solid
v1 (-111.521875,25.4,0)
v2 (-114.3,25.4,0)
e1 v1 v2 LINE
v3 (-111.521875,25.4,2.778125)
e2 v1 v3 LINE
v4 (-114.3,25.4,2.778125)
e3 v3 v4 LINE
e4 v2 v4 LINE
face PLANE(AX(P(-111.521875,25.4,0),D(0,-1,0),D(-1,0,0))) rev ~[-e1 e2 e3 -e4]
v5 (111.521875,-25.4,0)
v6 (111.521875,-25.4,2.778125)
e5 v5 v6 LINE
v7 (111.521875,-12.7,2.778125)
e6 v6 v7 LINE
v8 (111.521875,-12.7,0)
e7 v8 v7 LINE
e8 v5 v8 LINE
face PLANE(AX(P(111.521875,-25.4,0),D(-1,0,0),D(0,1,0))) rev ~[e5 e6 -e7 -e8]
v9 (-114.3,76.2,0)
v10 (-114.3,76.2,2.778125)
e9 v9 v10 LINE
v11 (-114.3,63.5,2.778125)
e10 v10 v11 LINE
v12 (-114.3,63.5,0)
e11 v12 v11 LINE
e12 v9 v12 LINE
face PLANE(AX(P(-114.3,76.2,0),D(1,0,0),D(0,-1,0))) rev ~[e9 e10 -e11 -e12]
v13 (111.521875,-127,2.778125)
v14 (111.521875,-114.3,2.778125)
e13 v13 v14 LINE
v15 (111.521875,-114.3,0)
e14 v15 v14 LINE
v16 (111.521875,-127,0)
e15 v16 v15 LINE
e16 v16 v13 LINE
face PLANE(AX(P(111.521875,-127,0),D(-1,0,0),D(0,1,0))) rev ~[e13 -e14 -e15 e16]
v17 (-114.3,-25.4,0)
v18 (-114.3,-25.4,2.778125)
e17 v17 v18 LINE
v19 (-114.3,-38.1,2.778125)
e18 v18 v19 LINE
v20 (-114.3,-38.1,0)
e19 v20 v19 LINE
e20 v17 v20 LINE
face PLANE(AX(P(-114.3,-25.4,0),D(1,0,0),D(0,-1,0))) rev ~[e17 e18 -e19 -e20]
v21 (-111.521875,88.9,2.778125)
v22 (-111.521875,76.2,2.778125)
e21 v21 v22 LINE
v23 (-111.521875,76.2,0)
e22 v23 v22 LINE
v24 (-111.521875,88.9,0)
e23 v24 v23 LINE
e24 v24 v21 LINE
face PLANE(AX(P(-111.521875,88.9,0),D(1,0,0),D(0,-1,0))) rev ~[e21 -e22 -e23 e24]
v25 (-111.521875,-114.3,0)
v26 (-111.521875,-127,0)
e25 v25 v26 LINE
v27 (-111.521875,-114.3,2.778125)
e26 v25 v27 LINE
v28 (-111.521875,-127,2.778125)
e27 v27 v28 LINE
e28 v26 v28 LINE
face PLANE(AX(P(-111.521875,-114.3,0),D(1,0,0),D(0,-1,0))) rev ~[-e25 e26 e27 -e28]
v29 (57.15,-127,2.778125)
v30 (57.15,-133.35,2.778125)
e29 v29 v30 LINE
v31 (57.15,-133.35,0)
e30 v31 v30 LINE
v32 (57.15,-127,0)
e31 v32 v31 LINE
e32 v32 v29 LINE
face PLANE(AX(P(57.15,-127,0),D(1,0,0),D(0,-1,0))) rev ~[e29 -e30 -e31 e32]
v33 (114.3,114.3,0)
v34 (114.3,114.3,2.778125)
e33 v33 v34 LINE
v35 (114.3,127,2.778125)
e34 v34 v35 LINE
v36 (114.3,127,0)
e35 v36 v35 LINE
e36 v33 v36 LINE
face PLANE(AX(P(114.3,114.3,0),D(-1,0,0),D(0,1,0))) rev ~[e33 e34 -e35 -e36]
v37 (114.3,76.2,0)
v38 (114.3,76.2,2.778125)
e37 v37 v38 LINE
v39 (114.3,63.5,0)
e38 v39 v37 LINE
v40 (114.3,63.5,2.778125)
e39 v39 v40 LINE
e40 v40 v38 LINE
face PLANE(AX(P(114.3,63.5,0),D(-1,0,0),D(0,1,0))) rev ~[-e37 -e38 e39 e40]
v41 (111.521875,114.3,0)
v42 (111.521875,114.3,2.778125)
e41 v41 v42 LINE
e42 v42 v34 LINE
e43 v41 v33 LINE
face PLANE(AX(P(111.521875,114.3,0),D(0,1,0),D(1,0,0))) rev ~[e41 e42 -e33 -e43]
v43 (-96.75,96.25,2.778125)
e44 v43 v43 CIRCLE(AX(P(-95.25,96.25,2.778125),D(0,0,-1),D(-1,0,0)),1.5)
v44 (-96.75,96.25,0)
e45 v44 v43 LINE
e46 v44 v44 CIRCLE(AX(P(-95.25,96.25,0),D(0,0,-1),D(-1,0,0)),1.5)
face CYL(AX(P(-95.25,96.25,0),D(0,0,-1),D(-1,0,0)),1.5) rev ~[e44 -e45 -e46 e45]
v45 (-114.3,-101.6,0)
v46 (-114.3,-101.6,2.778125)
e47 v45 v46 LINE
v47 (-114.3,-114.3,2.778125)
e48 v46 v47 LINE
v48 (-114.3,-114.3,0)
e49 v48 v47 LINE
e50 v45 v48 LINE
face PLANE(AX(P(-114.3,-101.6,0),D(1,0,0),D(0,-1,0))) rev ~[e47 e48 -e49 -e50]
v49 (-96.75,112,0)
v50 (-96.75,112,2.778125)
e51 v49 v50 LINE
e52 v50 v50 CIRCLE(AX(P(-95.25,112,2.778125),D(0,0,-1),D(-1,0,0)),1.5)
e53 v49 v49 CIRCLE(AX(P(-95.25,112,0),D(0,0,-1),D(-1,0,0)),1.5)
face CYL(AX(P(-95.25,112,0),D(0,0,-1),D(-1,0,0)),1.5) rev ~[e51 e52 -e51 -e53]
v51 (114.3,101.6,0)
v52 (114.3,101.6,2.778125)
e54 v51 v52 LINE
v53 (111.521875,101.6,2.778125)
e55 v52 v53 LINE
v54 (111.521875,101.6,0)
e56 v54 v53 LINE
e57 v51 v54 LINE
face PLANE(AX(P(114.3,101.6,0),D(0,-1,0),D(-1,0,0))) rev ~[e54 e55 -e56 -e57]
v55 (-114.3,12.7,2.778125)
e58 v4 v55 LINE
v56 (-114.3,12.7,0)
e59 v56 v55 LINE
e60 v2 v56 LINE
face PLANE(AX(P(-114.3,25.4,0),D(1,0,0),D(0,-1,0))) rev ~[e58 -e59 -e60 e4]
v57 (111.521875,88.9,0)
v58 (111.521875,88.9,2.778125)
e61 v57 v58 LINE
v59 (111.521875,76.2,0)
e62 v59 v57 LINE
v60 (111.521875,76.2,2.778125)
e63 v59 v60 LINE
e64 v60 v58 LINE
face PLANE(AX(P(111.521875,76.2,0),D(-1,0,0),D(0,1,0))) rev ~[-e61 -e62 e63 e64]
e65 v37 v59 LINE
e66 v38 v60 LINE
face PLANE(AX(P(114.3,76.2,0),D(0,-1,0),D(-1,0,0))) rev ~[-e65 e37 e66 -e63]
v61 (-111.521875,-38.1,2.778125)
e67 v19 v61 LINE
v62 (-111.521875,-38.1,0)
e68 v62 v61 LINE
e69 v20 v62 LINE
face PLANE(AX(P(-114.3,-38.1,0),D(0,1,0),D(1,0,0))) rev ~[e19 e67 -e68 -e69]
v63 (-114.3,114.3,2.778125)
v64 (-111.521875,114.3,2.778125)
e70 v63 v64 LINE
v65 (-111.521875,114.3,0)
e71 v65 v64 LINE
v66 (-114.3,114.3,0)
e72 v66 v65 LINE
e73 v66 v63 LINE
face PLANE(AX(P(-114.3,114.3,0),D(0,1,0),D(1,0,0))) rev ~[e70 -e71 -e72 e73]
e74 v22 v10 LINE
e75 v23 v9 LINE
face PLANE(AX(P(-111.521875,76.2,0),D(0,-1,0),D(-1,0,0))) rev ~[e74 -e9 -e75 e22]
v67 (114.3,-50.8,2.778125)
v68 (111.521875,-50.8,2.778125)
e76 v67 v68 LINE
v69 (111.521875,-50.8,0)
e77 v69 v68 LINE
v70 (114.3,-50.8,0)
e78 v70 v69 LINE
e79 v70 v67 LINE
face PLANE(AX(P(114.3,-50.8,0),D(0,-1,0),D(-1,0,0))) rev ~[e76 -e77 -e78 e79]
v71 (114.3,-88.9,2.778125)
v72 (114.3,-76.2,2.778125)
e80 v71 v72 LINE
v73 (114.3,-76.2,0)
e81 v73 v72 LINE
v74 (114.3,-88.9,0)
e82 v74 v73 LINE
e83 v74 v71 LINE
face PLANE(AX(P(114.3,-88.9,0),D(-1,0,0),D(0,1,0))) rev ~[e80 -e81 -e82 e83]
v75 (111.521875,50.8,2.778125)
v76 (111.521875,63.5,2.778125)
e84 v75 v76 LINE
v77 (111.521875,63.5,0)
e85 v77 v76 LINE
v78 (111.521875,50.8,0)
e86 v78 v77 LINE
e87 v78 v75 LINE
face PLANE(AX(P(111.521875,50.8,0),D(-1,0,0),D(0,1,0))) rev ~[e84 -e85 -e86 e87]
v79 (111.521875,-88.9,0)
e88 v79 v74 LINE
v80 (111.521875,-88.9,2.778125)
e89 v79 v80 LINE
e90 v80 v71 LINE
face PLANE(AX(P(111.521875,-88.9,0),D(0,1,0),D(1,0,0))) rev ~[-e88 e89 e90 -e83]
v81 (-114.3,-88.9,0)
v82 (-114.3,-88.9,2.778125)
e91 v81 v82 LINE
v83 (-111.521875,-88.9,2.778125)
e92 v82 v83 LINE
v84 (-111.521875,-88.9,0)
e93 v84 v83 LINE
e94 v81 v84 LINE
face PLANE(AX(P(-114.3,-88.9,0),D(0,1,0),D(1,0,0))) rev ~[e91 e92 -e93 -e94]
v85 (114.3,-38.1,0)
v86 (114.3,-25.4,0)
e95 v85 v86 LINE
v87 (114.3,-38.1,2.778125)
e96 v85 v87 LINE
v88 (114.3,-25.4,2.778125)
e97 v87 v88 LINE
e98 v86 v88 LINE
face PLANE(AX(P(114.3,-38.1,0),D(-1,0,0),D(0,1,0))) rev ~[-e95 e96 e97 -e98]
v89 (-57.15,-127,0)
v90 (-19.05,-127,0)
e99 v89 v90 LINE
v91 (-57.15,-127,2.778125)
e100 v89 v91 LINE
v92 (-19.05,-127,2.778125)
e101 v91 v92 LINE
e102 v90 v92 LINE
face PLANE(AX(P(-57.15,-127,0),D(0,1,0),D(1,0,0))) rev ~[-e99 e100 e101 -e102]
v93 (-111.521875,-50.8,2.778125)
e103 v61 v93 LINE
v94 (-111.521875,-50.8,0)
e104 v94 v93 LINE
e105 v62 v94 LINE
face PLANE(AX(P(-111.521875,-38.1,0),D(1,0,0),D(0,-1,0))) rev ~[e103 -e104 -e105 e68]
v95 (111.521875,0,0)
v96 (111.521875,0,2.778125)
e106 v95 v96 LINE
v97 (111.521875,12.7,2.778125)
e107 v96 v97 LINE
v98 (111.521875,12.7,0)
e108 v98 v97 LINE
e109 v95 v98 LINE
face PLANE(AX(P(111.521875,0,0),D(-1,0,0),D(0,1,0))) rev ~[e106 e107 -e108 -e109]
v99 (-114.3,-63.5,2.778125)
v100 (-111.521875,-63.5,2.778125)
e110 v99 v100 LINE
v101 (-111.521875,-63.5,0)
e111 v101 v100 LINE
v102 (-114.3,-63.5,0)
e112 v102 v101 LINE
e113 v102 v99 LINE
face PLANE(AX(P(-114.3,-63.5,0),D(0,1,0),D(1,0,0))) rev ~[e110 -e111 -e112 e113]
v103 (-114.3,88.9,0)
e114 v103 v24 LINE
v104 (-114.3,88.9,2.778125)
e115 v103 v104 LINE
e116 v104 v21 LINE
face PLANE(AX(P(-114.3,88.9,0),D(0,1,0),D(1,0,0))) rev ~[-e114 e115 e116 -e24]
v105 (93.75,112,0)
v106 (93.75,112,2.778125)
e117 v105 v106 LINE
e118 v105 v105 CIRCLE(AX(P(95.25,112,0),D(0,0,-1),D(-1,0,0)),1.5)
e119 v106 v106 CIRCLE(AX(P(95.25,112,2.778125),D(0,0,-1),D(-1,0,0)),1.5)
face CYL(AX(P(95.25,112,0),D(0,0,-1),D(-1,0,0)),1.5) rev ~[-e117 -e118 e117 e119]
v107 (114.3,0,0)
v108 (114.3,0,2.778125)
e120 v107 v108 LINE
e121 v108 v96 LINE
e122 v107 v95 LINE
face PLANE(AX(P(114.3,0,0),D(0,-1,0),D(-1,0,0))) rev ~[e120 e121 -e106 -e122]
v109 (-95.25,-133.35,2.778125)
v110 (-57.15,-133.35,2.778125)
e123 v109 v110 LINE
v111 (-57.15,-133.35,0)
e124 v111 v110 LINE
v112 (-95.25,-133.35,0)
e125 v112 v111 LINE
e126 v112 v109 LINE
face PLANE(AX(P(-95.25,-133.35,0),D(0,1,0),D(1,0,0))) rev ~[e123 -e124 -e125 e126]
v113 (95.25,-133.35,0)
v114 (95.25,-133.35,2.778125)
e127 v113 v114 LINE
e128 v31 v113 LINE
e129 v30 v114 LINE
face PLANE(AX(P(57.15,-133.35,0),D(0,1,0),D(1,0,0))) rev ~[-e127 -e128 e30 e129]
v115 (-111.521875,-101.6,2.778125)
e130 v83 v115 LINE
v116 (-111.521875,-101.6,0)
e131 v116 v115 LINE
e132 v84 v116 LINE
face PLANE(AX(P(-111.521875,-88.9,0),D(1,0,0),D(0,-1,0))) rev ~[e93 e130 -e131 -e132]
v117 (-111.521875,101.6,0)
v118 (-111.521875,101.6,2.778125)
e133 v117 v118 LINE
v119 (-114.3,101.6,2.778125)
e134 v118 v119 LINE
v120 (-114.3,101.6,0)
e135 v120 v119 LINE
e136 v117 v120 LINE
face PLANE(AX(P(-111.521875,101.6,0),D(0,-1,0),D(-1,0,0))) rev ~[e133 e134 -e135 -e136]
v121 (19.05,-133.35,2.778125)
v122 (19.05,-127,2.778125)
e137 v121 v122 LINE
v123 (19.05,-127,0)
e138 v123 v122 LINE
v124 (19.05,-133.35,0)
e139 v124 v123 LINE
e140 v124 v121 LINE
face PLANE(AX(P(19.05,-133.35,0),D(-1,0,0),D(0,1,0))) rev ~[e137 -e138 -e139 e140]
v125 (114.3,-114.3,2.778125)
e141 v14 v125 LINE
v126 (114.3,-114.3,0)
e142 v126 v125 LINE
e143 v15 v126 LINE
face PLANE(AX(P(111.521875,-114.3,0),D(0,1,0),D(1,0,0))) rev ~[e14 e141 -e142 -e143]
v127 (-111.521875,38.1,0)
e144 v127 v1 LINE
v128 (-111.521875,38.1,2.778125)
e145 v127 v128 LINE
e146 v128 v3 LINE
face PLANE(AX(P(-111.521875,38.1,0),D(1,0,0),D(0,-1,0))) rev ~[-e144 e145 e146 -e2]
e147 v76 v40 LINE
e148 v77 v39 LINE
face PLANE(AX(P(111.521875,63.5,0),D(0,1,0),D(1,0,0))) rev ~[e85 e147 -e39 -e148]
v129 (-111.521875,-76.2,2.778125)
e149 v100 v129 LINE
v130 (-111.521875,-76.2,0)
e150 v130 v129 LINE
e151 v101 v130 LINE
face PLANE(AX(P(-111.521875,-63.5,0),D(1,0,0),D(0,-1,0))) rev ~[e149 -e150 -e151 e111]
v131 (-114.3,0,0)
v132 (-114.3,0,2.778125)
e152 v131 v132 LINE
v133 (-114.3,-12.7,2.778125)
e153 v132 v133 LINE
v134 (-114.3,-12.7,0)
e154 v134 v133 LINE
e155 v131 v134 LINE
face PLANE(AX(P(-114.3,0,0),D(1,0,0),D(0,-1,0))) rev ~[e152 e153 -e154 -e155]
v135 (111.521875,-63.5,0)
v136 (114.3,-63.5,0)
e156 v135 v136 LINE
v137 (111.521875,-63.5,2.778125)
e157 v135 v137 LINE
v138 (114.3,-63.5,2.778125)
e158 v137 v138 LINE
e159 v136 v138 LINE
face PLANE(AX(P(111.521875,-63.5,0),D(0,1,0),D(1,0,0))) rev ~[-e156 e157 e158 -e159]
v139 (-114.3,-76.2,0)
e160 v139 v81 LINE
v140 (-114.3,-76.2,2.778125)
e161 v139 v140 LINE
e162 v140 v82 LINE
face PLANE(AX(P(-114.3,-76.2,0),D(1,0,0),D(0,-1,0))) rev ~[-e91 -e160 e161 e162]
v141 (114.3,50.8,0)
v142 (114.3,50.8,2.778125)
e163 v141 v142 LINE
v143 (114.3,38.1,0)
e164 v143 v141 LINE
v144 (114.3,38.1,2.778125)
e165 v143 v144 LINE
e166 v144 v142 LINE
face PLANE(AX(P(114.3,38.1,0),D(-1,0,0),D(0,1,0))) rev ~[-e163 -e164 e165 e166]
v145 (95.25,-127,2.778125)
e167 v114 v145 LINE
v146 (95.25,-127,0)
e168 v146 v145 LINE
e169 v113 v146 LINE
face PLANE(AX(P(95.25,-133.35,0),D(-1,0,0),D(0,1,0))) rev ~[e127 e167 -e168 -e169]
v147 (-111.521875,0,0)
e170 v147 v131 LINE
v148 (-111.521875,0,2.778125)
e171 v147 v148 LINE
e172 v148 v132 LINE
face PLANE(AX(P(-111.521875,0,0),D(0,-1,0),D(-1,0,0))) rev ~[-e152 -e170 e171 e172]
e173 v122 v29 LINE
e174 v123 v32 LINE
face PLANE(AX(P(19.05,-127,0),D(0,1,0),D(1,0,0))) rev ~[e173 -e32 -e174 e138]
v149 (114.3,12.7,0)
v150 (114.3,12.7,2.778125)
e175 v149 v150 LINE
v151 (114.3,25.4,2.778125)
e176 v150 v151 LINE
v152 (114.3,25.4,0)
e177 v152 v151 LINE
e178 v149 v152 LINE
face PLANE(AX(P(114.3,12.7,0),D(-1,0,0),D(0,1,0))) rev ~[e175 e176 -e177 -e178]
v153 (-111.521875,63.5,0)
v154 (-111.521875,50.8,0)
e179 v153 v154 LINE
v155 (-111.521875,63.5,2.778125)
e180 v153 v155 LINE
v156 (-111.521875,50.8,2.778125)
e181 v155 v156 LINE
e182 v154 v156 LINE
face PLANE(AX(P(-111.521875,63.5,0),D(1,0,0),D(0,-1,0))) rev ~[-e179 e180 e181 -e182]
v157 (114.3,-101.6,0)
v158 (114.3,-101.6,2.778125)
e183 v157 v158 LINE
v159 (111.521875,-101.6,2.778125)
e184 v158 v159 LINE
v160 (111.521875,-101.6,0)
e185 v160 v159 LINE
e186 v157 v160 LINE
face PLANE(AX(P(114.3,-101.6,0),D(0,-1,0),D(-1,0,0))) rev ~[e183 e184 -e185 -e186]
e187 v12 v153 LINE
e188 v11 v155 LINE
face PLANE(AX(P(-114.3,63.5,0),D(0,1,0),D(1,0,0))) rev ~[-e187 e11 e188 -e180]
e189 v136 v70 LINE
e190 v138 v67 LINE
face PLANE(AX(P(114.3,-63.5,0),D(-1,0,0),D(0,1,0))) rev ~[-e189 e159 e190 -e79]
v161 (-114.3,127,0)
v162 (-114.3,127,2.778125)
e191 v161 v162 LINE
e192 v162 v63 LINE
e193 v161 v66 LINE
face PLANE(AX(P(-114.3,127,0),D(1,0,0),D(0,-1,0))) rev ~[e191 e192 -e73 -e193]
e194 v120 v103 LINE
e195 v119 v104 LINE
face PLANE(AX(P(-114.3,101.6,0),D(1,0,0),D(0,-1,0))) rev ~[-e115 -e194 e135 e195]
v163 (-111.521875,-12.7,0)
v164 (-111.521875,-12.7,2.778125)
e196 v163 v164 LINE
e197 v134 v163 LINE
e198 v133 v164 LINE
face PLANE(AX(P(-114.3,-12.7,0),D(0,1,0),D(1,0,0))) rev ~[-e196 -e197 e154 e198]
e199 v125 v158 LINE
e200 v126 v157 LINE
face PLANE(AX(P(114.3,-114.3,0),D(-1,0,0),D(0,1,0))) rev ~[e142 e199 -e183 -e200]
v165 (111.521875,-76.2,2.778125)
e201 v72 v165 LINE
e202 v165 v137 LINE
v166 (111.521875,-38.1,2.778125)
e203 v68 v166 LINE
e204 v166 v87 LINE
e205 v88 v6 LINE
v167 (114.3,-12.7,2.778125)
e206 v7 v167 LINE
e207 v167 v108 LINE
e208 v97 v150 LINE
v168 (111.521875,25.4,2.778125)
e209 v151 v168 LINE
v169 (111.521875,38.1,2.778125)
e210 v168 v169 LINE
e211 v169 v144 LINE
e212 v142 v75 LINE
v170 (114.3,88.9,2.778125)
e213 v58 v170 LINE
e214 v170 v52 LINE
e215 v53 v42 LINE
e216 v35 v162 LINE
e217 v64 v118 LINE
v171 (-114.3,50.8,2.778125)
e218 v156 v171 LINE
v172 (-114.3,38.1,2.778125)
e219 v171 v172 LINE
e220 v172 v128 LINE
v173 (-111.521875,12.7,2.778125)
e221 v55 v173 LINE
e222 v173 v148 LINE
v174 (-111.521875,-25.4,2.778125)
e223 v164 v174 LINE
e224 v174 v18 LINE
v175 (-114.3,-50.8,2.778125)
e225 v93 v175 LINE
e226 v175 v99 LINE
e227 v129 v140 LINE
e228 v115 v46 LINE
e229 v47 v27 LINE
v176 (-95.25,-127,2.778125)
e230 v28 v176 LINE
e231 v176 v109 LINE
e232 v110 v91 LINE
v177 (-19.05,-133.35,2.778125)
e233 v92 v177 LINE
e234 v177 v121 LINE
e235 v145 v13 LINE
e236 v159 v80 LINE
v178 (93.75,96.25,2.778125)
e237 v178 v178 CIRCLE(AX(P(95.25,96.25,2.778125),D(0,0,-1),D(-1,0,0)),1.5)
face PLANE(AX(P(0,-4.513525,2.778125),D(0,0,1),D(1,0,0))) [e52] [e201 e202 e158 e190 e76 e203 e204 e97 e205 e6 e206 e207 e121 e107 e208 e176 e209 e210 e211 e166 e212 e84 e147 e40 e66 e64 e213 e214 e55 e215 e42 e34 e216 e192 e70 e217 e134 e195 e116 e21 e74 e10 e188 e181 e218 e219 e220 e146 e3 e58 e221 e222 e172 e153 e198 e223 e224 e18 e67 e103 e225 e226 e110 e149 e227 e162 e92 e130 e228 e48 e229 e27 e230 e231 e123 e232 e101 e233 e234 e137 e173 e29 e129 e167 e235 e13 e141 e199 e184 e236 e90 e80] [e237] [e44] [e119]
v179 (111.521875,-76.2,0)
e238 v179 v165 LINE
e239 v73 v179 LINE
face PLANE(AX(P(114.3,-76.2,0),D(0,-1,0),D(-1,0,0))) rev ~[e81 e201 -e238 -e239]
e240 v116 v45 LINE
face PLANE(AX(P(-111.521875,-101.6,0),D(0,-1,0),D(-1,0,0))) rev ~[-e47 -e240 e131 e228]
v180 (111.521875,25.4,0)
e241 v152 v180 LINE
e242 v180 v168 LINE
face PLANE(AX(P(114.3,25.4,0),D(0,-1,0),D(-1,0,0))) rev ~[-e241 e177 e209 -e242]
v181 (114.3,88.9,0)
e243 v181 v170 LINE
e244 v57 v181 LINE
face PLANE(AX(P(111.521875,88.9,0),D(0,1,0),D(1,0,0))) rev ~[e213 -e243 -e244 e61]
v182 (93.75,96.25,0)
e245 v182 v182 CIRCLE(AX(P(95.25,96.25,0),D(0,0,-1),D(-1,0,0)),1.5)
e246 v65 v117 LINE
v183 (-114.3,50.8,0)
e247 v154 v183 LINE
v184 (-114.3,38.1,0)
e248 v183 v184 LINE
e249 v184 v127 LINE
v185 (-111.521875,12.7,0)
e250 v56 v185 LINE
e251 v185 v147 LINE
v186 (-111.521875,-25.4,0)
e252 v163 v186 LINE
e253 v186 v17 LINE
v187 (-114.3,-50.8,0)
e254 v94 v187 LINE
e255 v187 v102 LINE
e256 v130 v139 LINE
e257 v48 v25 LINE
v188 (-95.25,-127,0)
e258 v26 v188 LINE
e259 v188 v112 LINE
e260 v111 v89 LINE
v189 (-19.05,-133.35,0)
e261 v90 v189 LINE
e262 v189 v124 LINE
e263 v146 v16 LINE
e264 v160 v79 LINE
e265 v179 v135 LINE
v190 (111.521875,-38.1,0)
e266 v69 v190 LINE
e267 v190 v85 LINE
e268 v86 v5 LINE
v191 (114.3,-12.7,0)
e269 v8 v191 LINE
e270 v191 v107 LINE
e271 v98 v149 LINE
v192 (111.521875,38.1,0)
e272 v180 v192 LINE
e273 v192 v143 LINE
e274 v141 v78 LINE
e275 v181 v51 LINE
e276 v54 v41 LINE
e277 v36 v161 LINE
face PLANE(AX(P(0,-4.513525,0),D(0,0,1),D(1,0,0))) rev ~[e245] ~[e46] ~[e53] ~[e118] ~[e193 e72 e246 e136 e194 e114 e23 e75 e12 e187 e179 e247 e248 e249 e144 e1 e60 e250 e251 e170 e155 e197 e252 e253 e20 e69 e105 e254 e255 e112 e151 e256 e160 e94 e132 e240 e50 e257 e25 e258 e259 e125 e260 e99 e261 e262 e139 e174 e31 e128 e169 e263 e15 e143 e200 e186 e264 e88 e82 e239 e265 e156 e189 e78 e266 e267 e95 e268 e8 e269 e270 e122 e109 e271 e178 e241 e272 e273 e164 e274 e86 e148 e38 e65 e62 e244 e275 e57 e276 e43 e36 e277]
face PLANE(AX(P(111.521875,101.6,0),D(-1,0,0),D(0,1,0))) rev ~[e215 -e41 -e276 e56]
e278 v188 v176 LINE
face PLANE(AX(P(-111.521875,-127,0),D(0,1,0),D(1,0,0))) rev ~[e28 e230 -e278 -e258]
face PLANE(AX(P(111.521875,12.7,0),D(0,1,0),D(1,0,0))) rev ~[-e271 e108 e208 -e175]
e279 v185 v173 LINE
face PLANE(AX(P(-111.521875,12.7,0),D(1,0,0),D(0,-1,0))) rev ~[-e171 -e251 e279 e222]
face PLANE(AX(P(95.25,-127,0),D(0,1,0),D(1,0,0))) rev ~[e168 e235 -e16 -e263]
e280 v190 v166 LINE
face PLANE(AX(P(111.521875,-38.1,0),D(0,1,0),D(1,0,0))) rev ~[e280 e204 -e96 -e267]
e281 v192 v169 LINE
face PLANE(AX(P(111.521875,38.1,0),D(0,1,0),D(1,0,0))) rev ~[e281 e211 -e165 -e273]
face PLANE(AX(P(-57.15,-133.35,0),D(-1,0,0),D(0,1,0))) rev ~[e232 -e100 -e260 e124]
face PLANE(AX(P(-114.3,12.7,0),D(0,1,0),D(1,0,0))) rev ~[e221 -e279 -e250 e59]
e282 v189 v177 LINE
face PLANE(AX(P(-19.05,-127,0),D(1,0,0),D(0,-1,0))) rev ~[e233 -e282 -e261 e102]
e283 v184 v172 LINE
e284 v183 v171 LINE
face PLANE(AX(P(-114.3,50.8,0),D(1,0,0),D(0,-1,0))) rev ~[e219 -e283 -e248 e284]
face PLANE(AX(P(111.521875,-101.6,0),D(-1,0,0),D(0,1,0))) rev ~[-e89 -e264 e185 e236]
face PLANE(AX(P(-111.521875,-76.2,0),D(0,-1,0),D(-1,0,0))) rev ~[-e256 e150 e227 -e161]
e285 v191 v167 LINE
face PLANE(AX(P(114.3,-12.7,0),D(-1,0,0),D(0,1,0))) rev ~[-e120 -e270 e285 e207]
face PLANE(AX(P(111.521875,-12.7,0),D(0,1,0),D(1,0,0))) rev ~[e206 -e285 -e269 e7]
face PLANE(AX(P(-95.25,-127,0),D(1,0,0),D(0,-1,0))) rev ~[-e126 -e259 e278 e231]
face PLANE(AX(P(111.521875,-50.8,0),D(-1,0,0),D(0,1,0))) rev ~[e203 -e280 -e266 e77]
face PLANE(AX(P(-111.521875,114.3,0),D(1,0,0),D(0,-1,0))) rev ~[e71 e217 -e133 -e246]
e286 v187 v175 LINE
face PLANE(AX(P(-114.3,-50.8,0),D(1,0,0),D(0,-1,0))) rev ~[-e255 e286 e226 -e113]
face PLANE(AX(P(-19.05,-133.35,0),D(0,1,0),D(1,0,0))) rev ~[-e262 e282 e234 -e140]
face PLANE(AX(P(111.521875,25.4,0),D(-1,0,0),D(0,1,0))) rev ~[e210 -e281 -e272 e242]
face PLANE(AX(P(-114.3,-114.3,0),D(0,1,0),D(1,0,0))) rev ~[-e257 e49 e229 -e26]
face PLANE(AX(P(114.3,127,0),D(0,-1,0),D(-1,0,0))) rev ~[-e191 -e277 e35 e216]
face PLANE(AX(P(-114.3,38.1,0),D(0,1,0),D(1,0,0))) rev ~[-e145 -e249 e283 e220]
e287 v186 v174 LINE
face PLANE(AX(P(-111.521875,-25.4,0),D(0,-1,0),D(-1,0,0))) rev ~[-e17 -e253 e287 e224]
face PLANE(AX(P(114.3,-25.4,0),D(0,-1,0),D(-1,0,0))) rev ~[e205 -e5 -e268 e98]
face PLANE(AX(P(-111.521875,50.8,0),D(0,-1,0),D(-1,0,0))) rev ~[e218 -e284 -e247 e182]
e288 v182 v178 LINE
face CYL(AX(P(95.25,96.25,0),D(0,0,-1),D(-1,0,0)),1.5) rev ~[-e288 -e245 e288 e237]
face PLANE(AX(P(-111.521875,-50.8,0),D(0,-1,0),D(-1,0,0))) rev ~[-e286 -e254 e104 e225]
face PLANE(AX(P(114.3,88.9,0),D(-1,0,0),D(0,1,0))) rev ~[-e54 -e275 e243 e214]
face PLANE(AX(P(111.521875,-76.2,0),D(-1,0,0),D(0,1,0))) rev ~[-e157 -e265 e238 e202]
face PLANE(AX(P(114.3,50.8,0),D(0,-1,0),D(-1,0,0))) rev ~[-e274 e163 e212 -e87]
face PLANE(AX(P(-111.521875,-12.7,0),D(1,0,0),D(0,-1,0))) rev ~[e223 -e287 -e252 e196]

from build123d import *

# Parameters (mm, degrees)
BOSS_EXTRUDE1_DEPTH = 2.778125
SKETCH2_R           = 1.5
CUT_EXTRUDE1_DEPTH  = 2.778125


with BuildPart() as part:
    # Sketch1 → Boss-Extrude1 (new body)
    with BuildSketch(Plane.XY):
        Polygon((-114.3, 127), (-114.3, 114.3), (-111.521875, 114.3), (-111.521875, 101.6), (-114.3, 101.6), (-114.3, 88.9), (-111.521875, 88.9), (-111.521875, 76.2), (-114.3, 76.2), (-114.3, 63.5), (-111.521875, 63.5), (-111.521875, 50.8), (-114.3, 50.8), (-114.3, 38.1), (-111.521875, 38.1), (-111.521875, 25.4), (-114.3, 25.4), (-114.3, 12.7), (-111.521875, 12.7), (-111.521875, 0), (-114.3, 0), (-114.3, -12.7), (-111.521875, -12.7), (-111.521875, -25.4), (-114.3, -25.4), (-114.3, -38.1), (-111.521875, -38.1), (-111.521875, -50.8), (-114.3, -50.8), (-114.3, -63.5), (-111.521875, -63.5), (-111.521875, -76.2), (-114.3, -76.2), (-114.3, -88.9), (-111.521875, -88.9), (-111.521875, -101.6), (-114.3, -101.6), (-114.3, -114.3), (-111.521875, -114.3), (-111.521875, -127), (-95.25, -127), (-95.25, -133.35), (-57.15, -133.35), (-57.15, -127), (-19.05, -127), (-19.05, -133.35), (19.05, -133.35), (19.05, -127), (57.15, -127), (57.15, -133.35), (95.25, -133.35), (95.25, -127), (111.521875, -127), (111.521875, -114.3), (114.3, -114.3), (114.3, -101.6), (111.521875, -101.6), (111.521875, -88.9), (114.3, -88.9), (114.3, -76.2), (111.521875, -76.2), (111.521875, -63.5), (114.3, -63.5), (114.3, -50.8), (111.521875, -50.8), (111.521875, -38.1), (114.3, -38.1), (114.3, -25.4), (111.521875, -25.4), (111.521875, -12.7), (114.3, -12.7), (114.3, 0), (111.521875, 0), (111.521875, 12.7), (114.3, 12.7), (114.3, 25.4), (111.521875, 25.4), (111.521875, 38.1), (114.3, 38.1), (114.3, 50.8), (111.521875, 50.8), (111.521875, 63.5), (114.3, 63.5), (114.3, 76.2), (111.521875, 76.2), (111.521875, 88.9), (114.3, 88.9), (114.3, 101.6), (111.521875, 101.6), (111.521875, 114.3), (114.3, 114.3), (114.3, 127), align=None)
    extrude(amount=BOSS_EXTRUDE1_DEPTH)

    # Sketch2 → Cut-Extrude1 (cut)
    with BuildSketch(Plane(origin=(0, 0, 0), x_dir=(-1, 0, 0), z_dir=(0, 0, -1))):
        with Locations((-95.25, 112)):
            Circle(SKETCH2_R)
        with Locations((-95.25, 96.25)):
            Circle(SKETCH2_R)
        with Locations((95.25, 96.25)):
            Circle(SKETCH2_R)
        with Locations((95.25, 112)):
            Circle(SKETCH2_R)
    extrude(amount=-CUT_EXTRUDE1_DEPTH, mode=Mode.SUBTRACT)


solid = part.part
